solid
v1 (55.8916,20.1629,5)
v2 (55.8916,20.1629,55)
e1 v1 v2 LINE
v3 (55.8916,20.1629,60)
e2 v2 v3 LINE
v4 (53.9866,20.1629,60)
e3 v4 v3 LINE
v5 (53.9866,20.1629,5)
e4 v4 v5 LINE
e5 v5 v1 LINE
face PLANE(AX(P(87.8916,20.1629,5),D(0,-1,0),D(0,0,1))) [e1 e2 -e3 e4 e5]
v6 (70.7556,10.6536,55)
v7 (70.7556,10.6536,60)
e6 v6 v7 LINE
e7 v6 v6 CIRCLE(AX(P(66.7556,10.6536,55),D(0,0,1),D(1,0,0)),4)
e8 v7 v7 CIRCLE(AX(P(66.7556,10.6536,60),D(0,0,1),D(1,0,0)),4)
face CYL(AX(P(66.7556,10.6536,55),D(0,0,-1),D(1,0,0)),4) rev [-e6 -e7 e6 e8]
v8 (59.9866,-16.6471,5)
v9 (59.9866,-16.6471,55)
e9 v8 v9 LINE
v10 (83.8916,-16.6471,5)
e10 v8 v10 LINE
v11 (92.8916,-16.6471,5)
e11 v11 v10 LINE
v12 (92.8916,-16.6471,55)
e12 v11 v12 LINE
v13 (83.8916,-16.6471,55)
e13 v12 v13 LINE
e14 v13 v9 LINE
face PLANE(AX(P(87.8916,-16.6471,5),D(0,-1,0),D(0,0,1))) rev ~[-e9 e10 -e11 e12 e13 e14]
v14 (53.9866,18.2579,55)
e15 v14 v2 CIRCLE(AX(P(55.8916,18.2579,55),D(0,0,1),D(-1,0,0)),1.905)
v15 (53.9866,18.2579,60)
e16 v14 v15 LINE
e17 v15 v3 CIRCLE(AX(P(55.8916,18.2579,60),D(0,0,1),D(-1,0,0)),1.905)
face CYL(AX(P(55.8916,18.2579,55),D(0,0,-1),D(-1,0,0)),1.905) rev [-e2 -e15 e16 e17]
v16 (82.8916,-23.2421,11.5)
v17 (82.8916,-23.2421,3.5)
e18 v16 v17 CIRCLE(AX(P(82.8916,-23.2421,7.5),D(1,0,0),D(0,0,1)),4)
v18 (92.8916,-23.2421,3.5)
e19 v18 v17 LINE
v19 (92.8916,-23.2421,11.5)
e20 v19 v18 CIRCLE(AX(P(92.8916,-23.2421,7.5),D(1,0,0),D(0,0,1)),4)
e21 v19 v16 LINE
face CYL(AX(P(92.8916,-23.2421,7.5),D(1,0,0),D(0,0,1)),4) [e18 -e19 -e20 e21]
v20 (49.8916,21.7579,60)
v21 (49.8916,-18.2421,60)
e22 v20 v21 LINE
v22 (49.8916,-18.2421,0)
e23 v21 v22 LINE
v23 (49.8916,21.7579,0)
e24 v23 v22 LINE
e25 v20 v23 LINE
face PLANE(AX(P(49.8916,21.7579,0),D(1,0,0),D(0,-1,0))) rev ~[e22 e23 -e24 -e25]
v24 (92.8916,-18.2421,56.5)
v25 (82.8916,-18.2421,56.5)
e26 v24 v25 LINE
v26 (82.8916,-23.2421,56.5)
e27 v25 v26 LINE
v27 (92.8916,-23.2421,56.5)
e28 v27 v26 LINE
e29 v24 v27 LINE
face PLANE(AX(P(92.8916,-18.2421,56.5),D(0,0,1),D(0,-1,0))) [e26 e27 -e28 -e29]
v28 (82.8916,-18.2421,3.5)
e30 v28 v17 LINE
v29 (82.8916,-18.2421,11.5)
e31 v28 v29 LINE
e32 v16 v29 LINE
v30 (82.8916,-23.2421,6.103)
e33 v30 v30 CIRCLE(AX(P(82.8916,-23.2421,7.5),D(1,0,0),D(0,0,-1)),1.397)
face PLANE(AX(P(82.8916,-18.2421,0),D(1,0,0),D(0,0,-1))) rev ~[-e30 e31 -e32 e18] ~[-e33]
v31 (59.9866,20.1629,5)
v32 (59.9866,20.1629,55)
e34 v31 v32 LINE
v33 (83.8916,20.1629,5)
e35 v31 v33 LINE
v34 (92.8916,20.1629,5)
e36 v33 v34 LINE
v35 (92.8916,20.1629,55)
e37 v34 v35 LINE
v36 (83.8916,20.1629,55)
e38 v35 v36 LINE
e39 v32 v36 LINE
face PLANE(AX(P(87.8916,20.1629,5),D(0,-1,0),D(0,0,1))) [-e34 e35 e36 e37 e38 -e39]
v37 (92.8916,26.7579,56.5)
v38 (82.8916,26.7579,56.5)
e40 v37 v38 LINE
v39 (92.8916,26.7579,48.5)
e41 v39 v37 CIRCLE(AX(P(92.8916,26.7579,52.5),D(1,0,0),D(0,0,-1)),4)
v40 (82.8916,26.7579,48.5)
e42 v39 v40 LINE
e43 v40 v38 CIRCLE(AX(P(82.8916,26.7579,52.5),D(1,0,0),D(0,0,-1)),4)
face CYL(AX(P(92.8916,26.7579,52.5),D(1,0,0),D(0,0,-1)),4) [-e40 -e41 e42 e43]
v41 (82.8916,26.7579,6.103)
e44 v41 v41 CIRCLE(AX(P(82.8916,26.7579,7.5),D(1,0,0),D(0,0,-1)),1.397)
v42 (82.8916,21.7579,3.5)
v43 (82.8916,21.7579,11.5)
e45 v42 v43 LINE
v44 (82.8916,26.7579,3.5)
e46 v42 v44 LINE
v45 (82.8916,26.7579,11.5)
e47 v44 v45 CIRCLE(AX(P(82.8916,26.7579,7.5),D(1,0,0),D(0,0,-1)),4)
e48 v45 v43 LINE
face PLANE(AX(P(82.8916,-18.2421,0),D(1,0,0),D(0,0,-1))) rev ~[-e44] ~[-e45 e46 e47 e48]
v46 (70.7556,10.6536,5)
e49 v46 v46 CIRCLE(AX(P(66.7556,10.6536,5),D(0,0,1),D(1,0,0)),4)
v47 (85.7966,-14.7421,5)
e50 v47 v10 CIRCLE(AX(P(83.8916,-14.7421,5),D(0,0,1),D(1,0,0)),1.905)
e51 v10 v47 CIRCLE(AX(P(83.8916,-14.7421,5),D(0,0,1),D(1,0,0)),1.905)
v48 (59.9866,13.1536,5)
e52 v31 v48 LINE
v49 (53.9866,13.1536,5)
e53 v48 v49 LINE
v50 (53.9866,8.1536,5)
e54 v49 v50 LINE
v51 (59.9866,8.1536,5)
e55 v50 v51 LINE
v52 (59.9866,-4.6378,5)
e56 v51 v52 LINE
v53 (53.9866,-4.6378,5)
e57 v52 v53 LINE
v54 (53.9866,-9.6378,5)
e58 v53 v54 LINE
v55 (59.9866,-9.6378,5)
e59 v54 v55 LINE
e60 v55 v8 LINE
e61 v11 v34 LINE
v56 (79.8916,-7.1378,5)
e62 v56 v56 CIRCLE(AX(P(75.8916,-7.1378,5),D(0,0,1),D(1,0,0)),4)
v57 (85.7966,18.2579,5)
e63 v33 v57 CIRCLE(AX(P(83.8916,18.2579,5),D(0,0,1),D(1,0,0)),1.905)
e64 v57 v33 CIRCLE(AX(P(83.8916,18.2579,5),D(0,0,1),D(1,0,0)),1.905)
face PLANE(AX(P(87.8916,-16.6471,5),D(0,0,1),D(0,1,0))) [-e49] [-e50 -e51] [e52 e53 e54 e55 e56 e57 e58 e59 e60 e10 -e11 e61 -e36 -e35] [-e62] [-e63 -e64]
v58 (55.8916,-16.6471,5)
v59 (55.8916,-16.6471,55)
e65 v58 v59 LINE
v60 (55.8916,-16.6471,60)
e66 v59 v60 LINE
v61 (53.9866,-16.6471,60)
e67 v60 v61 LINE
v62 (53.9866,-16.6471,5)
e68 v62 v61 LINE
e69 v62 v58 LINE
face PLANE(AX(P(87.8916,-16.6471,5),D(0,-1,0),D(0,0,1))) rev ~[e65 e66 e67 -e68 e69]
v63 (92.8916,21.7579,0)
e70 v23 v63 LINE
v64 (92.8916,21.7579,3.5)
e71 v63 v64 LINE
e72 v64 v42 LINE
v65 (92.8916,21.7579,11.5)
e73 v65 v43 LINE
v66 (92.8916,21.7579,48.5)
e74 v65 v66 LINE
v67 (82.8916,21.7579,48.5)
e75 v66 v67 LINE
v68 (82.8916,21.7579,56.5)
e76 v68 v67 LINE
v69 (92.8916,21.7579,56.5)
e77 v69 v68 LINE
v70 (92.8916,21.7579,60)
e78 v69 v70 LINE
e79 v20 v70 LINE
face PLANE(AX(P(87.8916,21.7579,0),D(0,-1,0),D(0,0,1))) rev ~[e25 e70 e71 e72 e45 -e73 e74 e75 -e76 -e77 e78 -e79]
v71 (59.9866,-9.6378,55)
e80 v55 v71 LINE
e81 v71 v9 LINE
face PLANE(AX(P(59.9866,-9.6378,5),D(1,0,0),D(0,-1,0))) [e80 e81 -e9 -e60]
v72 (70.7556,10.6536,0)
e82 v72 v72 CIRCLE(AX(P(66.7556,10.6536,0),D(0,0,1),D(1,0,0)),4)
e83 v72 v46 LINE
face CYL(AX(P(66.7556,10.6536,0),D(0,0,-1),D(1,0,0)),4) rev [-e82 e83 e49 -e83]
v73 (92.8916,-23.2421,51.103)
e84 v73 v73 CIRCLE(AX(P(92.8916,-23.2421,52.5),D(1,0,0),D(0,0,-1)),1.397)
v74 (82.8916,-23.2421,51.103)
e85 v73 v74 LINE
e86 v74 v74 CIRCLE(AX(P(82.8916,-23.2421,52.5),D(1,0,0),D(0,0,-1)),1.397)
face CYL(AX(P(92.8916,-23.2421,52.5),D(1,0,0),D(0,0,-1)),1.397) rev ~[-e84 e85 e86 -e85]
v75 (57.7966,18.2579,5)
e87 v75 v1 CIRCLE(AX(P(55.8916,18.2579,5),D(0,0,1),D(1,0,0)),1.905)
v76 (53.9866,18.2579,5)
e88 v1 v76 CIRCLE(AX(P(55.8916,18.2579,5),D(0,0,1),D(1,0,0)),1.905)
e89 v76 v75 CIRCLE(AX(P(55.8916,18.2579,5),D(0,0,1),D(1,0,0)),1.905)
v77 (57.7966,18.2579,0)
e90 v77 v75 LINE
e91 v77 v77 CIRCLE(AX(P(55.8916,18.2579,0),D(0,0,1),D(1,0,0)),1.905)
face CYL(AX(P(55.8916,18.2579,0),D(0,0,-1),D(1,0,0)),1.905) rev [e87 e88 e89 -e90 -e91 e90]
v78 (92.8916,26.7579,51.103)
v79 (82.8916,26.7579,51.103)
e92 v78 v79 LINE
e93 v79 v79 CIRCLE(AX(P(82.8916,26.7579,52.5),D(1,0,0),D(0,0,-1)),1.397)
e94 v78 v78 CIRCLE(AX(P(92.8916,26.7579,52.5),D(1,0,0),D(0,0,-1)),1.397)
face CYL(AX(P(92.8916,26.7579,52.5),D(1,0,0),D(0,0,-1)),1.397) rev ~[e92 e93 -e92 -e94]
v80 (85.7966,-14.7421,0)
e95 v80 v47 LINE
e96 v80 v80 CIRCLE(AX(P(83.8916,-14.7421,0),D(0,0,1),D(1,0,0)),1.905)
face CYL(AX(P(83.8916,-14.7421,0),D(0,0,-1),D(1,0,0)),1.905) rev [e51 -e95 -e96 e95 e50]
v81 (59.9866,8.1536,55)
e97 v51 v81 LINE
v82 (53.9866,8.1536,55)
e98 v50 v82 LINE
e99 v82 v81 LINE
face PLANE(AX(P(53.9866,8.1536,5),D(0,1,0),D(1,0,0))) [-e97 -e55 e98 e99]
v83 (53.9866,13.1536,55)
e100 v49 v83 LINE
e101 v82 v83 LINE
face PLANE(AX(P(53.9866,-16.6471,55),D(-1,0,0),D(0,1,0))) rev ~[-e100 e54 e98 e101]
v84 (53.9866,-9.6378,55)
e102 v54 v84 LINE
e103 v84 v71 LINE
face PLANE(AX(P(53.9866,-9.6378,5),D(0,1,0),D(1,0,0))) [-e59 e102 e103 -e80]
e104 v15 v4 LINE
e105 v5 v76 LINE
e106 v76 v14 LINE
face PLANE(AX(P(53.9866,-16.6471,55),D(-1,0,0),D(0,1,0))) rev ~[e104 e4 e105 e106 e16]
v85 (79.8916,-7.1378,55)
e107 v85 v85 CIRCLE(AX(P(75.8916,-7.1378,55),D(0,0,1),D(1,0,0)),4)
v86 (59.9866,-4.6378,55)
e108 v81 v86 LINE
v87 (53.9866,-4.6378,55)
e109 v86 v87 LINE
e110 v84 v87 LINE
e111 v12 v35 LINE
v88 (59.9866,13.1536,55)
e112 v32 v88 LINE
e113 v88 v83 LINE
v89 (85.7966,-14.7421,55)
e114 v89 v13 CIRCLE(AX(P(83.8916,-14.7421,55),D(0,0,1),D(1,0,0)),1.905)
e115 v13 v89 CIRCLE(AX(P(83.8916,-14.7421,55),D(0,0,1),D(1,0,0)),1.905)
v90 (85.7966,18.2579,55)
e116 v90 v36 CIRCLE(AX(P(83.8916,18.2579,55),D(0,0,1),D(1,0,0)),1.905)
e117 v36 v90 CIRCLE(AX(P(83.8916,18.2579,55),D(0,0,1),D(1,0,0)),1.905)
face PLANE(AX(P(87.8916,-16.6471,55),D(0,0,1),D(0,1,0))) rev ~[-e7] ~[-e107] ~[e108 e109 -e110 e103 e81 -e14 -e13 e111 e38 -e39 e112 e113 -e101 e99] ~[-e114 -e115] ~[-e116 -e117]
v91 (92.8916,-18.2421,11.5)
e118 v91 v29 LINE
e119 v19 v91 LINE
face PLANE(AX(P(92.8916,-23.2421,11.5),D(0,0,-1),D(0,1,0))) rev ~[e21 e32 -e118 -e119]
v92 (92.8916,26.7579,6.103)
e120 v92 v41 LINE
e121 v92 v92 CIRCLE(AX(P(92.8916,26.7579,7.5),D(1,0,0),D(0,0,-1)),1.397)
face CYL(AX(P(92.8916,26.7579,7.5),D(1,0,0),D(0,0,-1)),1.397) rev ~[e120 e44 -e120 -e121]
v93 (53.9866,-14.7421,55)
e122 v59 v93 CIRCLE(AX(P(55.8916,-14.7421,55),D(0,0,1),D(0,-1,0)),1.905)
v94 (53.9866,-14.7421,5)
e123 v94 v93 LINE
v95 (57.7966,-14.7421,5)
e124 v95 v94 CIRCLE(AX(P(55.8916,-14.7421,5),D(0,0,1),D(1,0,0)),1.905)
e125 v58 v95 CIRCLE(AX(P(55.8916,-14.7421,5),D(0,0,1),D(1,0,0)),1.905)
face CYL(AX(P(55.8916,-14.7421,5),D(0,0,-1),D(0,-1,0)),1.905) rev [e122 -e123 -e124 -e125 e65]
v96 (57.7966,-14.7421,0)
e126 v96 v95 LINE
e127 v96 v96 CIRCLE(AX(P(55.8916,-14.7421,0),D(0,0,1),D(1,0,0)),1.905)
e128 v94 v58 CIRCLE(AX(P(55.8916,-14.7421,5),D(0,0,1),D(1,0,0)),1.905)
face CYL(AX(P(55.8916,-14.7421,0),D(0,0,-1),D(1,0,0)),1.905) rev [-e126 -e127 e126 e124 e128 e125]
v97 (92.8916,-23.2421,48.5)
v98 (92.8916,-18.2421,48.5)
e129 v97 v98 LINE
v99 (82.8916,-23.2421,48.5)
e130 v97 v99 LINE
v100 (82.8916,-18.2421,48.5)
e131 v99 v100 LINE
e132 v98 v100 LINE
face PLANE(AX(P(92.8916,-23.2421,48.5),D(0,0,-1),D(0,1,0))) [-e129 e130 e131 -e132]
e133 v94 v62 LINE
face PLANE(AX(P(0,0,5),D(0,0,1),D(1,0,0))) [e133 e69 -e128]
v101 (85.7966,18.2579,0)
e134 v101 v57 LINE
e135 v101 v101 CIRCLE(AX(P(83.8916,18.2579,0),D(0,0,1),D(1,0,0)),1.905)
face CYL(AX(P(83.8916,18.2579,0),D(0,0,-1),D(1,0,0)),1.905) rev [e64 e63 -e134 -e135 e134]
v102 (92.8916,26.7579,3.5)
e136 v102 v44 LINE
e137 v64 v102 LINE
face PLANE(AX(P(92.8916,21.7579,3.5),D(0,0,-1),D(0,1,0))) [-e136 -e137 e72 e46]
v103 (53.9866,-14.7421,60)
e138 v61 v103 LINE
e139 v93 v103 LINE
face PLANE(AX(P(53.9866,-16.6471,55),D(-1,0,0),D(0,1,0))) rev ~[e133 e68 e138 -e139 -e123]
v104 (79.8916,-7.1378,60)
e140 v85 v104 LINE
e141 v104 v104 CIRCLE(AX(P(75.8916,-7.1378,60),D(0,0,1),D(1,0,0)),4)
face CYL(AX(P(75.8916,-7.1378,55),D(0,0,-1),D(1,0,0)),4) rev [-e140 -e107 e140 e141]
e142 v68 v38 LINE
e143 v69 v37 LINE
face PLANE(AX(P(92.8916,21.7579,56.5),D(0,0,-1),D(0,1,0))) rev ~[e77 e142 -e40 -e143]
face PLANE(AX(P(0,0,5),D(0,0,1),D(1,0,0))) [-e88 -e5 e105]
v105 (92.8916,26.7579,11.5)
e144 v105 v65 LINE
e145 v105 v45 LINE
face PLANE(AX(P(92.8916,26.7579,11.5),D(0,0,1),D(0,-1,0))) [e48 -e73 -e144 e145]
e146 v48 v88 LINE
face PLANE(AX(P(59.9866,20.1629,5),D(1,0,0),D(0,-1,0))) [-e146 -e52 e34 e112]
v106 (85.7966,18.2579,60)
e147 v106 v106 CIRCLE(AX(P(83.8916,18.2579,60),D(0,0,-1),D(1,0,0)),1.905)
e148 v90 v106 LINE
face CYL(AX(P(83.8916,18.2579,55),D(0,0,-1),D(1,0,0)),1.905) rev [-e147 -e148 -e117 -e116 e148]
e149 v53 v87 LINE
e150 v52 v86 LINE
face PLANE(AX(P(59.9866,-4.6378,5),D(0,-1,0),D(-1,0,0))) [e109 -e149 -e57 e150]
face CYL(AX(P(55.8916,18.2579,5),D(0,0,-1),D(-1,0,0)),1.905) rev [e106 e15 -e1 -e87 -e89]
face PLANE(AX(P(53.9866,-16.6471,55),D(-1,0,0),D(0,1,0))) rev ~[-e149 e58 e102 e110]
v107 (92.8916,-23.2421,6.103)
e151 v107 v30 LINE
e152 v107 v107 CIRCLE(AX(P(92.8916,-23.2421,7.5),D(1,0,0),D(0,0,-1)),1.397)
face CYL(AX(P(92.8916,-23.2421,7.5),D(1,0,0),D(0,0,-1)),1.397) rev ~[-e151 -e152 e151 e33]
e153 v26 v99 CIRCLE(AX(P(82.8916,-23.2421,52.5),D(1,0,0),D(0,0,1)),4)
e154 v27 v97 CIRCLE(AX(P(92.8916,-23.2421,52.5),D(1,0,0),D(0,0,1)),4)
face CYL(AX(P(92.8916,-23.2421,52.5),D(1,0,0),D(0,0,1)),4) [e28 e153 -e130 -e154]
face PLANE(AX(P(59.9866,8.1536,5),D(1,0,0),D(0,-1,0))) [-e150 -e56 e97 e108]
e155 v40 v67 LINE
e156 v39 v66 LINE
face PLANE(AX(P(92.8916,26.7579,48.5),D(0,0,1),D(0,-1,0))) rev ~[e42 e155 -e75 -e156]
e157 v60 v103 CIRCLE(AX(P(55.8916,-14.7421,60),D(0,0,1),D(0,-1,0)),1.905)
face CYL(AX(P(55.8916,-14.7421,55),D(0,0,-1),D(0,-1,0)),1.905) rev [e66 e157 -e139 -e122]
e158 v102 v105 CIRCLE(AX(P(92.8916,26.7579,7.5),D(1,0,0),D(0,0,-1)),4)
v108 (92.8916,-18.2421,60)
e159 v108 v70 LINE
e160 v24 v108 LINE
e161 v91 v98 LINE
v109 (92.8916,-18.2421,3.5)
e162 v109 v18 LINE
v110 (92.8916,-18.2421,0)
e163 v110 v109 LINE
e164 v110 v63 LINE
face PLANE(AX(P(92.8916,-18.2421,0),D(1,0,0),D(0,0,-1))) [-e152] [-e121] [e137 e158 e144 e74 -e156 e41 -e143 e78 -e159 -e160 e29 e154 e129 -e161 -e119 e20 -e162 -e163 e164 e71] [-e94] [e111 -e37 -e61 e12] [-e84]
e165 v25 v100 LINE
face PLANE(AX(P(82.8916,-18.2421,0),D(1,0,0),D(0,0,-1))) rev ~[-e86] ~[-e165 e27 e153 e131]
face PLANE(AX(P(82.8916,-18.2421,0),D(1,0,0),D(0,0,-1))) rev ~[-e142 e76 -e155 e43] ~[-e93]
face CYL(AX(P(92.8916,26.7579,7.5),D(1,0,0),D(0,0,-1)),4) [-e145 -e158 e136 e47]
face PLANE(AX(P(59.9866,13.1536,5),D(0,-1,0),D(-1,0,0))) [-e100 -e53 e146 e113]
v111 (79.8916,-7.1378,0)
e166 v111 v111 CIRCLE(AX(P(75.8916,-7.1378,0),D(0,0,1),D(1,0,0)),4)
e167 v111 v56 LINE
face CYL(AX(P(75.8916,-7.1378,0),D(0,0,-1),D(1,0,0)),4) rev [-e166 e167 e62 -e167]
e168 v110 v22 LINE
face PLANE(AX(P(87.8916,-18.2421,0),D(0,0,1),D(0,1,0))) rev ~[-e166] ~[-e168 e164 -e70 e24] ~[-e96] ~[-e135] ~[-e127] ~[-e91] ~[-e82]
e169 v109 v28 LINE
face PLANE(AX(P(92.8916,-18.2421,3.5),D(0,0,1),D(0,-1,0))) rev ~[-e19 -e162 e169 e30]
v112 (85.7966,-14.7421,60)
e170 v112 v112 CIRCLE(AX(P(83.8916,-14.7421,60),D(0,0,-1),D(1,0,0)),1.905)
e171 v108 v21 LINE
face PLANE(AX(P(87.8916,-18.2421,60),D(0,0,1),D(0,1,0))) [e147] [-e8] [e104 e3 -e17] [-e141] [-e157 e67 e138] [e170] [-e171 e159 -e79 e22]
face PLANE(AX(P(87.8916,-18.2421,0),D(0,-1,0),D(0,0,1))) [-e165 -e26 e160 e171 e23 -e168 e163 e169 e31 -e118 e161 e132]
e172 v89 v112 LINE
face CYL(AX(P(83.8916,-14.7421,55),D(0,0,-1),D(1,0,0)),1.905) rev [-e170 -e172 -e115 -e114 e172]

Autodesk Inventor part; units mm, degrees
ref_plane "YZ Plane" through (0, 0, 0) normal (1, 0, 0) x (0, 1, 0)
ref_plane "XZ Plane" through (0, 0, 0) normal (0, 1, 0) x (-1, 0, 0)
ref_plane "XY Plane" through (0, 0, 0) normal (0, 0, 1) x (1, 0, 0)
ref_plane "Work Plane1" through (0, 0, 0) normal (0, 0, 1) x (1, 0, 0)
sketch "Sketch1" plane through (0, 0, 0) normal (0, 0, 1) x (1, 0, 0)
  circle A0 centre (55.8916, -14.7421) radius 1.397 construction
  circle A1 centre (83.8916, 18.2579) radius 1.397 construction
  circle A2 centre (83.8916, -14.7421) radius 1.397 construction
  circle A3 centre (55.8916, 18.2579) radius 1.397 construction
  circle A4 centre (-68.9014, -27.1927) radius 1.905 construction
  circle A5 centre (69.9706, -24.3098) radius 1.905 construction
  arc A6 (-6.1836, 105.2542) -> (-60.0665, 55.7083) centre (-0.9442, 45.4834) ccw construction
  arc A7 (-60.0665, 55.7083) -> (-61.034, 47.7681) centre (-60.6164, 51.7463) ccw construction
  line L0 (-61.034, 47.7681) -> (-68.4839, -23.2145) construction
  arc A8 (-68.4839, -23.2145) -> (-69.2051, -31.1811) centre (-68.9014, -27.1927) ccw construction
  arc A9 (-69.2051, -31.1811) -> (-1.8309, -104.453) centre (0.7162, -34.4994) ccw construction
  arc A10 (-1.8309, -104.453) -> (6.1641, -104.2871) centre (2.169, -104.4843) ccw construction
  arc A11 (6.1641, -104.2871) -> (70.4395, -28.2823) centre (0.7162, -34.4994) ccw construction
  arc A12 (70.4395, -28.2823) -> (69.3883, -20.3524) centre (69.9706, -24.3098) ccw construction
  line L1 (69.3883, -20.3524) -> (69.0778, -18.2421) construction
  line L2 (87.8916, -18.2421) -> (69.0778, -18.2421) construction
  line L3 (87.8916, 21.7579) -> (87.8916, -18.2421) construction
  line L4 (63.1925, 21.7579) -> (87.8916, 21.7579) construction
  line L5 (63.1925, 21.7579) -> (58.999, 50.2599) construction
  arc A13 (58.999, 50.2599) -> (57.7029, 58.1531) centre (58.4167, 54.2173) ccw construction
  arc A14 (57.7029, 58.1531) -> (1.8102, 105.4201) centre (-0.9442, 45.4834) ccw construction
  arc A15 (1.8102, 105.4201) -> (-6.1836, 105.2542) centre (-2.1895, 105.4705) ccw construction
  circle A16 centre (58.4167, 54.2173) radius 1.905 construction
  circle A17 centre (-2.1895, 105.4705) radius 1.905 construction
  circle A18 centre (-60.6164, 51.7463) radius 1.905 construction
  circle A19 centre (2.169, -104.4843) radius 1.905 construction
  circle A20 centre (-0.9442, 45.4834) radius 6.75 construction
  circle A21 centre (75.8916, -7.1378) radius 4 projected
  circle A22 centre (66.7556, 10.6536) radius 4 projected
  line L6 (87.8916, -18.2421) -> (87.8916, 21.7579)
  line L7 (87.8916, 21.7579) -> (49.8916, 21.7579)
  line L8 (49.8916, 21.7579) -> (49.8916, -18.2421)
  line L9 (49.8916, -18.2421) -> (87.8916, -18.2421)
  circle A23 centre (83.8916, -14.7421) radius 1.905
  circle A24 centre (55.8916, -14.7421) radius 1.905
  circle A25 centre (55.8916, 18.2579) radius 1.905
  circle A26 centre (83.8916, 18.2579) radius 1.905
  point P0 (0, 0)
  dimension "d0" = 3.81
  dimension "d1" = 38
extrude "Extrusion1" add sketch "Sketch1" along normal blind 5
sketch "Sketch2" plane through (0, 0, 5) normal (0, 0, 1) x (1, 0, 0)
  circle A0 centre (66.7556, 10.6536) radius 4 construction
  circle A1 centre (75.8916, -7.1378) radius 4 construction
  circle A2 centre (83.8916, 18.2579) radius 1.905 construction
  circle A3 centre (55.8916, 18.2579) radius 1.905 construction
  circle A4 centre (55.8916, -14.7421) radius 1.905 construction
  circle A5 centre (83.8916, -14.7421) radius 1.905 construction
  line L0 (87.8916, -18.2421) -> (87.8916, 21.7579) construction
  line L1 (87.8916, 21.7579) -> (49.8916, 21.7579) construction
  line L2 (49.8916, 21.7579) -> (49.8916, -18.2421) construction
  line L3 (49.8916, -18.2421) -> (87.8916, -18.2421) construction
  line L4 (87.8916, -18.2421) -> (49.8916, -18.2421)
  line L5 (49.8916, -18.2421) -> (49.8916, -16.6471)
  line L6 (49.8916, -16.6471) -> (87.8916, -16.6471)
  line L7 (87.8916, -16.6471) -> (87.8916, -18.2421)
  line L8 (87.8916, 21.7579) -> (49.8916, 21.7579) projected
  line L9 (87.8916, 21.7579) -> (49.8916, 21.7579)
  line L10 (49.8916, 21.7579) -> (49.8916, 20.1629)
  line L11 (49.8916, 20.1629) -> (87.8916, 20.1629)
  line L12 (87.8916, 20.1629) -> (87.8916, 21.7579)
  line L13 (49.8916, -16.6471) -> (53.9866, -16.6471)
  line L14 (53.9866, -16.6471) -> (53.9866, 20.1629)
  line L15 (53.9866, 20.1629) -> (49.8916, 20.1629)
  line L16 (49.8916, 20.1629) -> (49.8916, -16.6471)
  circle A6 centre (55.8916, -14.7421) radius 1.905 projected
  point P0 (0, 0)
extrude "Extrusion2" add sketch "Sketch2" along normal blind 50 contours L4 L5 L6 L7 | L16 L11 L14 L6 | L10 L8 L12 L11
sketch "Sketch3" plane through (0, 0, 55) normal (0, 0, 1) x (1, 0, 0)
  line L0 (55.8916, -16.6471) -> (83.8916, -16.6471) projected
  circle A0 centre (83.8916, -14.7421) radius 1.905 projected
  line L1 (83.8916, -16.6471) -> (87.8916, -16.6471) projected
  line L2 (87.8916, -16.6471) -> (87.8916, 20.1629) projected
  line L3 (87.8916, 20.1629) -> (83.8916, 20.1629) projected
  circle A1 centre (83.8916, 18.2579) radius 1.905 projected
  line L4 (83.8916, 20.1629) -> (55.8916, 20.1629) projected
  arc A2 (53.9866, 18.2579) -> (55.8916, 20.1629) centre (55.8916, 18.2579) ccw projected
  line L5 (53.9866, 18.2579) -> (53.9866, -14.7421) projected
  arc A3 (55.8916, -16.6471) -> (53.9866, -14.7421) centre (55.8916, -14.7421) ccw projected
  circle A4 centre (66.7556, 10.6536) radius 4 projected
  circle A5 centre (75.8916, -7.1378) radius 4 projected
  line L6 (53.9866, 20.1629) -> (87.8916, 20.1629) projected
  line L7 (87.8916, 20.1629) -> (87.8916, 21.7579) projected
  line L8 (87.8916, 21.7579) -> (49.8916, 21.7579) projected
  line L9 (49.8916, 21.7579) -> (49.8916, -18.2421) projected
  line L10 (49.8916, -18.2421) -> (87.8916, -18.2421) projected
  line L11 (87.8916, -18.2421) -> (87.8916, -16.6471) projected
  line L12 (87.8916, -16.6471) -> (53.9866, -16.6471) projected
  line L13 (53.9866, -16.6471) -> (53.9866, 20.1629) projected
  point P0 (0, 0)
extrude "Extrusion3" add sketch "Sketch3" along normal blind 5 contours A3 L5 A2 L4 L3 L2 L1 L0 | L0 L1 L11 L10 L9 L8 L7 L3 L4 L6 L13 L5 L12
sketch "Sketch4" plane through (87.8916, -18.2421, 0) normal (1, 0, 0) x (0, 0, -1)
  line L0 (-5, 38.405) -> (-55, 38.405) projected
  line L1 (-5, 1.595) -> (-5, 38.405) projected
  line L2 (-5, 1.595) -> (-55, 1.595) projected
  line L3 (-55, 1.595) -> (-55, 38.405) projected
  line L4 (0, 40) -> (-60, 40) projected
  line L5 (-60, 0) -> (-60, 40) projected
  line L6 (0, 0) -> (-60, 0) projected
  line L7 (0, 0) -> (0, 40) projected
  point P0 (0, 18.2421)
extrude "Extrusion4" add sketch "Sketch4" along normal blind 5
sketch "Sketch5" plane through (0, 0, 5) normal (0, 0, 1) x (1, 0, 0)
  line L0 (55.8916, -16.6471) -> (83.8916, -16.6471) projected
  circle A0 centre (83.8916, -14.7421) radius 1.905 projected
  line L1 (83.8916, -16.6471) -> (92.8916, -16.6471) projected
  line L2 (92.8916, 20.1629) -> (92.8916, -16.6471) projected
  line L3 (92.8916, 20.1629) -> (83.8916, 20.1629) projected
  circle A1 centre (83.8916, 18.2579) radius 1.905 projected
  line L4 (83.8916, 20.1629) -> (55.8916, 20.1629) projected
  arc A2 (53.9866, 18.2579) -> (55.8916, 20.1629) centre (55.8916, 18.2579) ccw projected
  line L5 (53.9866, 18.2579) -> (53.9866, -14.7421) projected
  arc A3 (55.8916, -16.6471) -> (53.9866, -14.7421) centre (55.8916, -14.7421) ccw projected
  circle A4 centre (66.7556, 10.6536) radius 4 projected
  circle A5 centre (75.8916, -7.1378) radius 4 projected
  line L6 (59.9866, 20.1629) -> (59.9866, 13.1536)
  line L7 (59.9866, 13.1536) -> (53.9866, 13.1536)
  line L8 (53.9866, 8.1536) -> (59.9866, 8.1536)
  line L9 (59.9866, 8.1536) -> (59.9866, -4.6378)
  line L10 (59.9866, -4.6378) -> (53.9866, -4.6378)
  line L11 (53.9866, -9.6378) -> (59.9866, -9.6378)
  line L12 (59.9866, -9.6378) -> (59.9866, -16.6471)
  line L13 (59.9866, -9.6378) -> (59.9866, -4.6378) construction
  line L14 (59.9866, 8.1536) -> (59.9866, 13.1536) construction
  point P0 (0, 0)
  point P1 (59.9866, -7.1378)
  point P2 (59.9866, 10.6536)
  dimension "d10" = 5
  dimension "d11" = 6
  dimension "d12" = 5
extrude "Extrusion5" add sketch "Sketch5" along normal up to next contours A3 L5 L11 L12 L0 | L5 L8 L9 L10 | L5 A2 L4 L6 L7
sketch "Sketch6" plane through (92.8916, -18.2421, 0) normal (1, 0, 0) x (0, 0, -1)
  line L0 (-5, 38.405) -> (-5, 1.595) construction
  line L1 (-5, 1.595) -> (-55, 1.595) construction
  line L2 (-55, 1.595) -> (-55, 38.405) construction
  line L3 (-55, 38.405) -> (-5, 38.405) construction
  line L4 (0, 40) -> (-60, 40) construction
  line L5 (-60, 40) -> (-60, 0) construction
  line L6 (-60, 0) -> (0, 0) construction
  line L7 (0, 0) -> (0, 40) construction
  line L8 (-60, 0) -> (0, 0) construction
  line L9 (-30, 0) -> (-30, 40) construction
  line L10 (-52.5, 45) -> (-7.5, 45) construction
  line L11 (-7.5, 45) -> (-7.5, -5) construction
  line L12 (-7.5, -5) -> (-52.5, -5) construction
  line L13 (-52.5, -5) -> (-52.5, 45) construction
  line L14 (-52.5, 45) -> (-7.5, -5) construction
  line L15 (-7.5, 45) -> (-52.5, -5) construction
  circle A0 centre (-7.5, -5) radius 1.397
  circle A1 centre (-52.5, -5) radius 1.397
  circle A2 centre (-7.5, 45) radius 1.397
  circle A3 centre (-52.5, 45) radius 1.397
  line L16 (-7.5, -5) -> (-7.5, 0) construction
  line L17 (-11.5, -5) -> (-11.5, 0)
  line L18 (-3.5, 0) -> (-3.5, -5)
  arc A4 (-11.5, -5) -> (-3.5, -5) centre (-7.5, -5) ccw
  arc A5 (-3.5, 0) -> (-11.5, 0) centre (-7.5, 0) ccw construction
  line L19 (-52.5, -5) -> (-52.5, 0) construction
  line L20 (-48.5, -5) -> (-48.5, 0)
  line L21 (-56.5, 0) -> (-56.5, -5)
  arc A6 (-56.5, -5) -> (-48.5, -5) centre (-52.5, -5) ccw
  arc A7 (-48.5, 0) -> (-56.5, 0) centre (-52.5, 0) ccw construction
  line L22 (-52.5, 45) -> (-52.5, 40) construction
  line L23 (-48.5, 45) -> (-48.5, 40)
  line L24 (-56.5, 40) -> (-56.5, 45)
  arc A8 (-48.5, 45) -> (-56.5, 45) centre (-52.5, 45) ccw
  arc A9 (-56.5, 40) -> (-48.5, 40) centre (-52.5, 40) ccw construction
  line L25 (-7.5, 45) -> (-7.5, 40) construction
  line L26 (-11.5, 45) -> (-11.5, 40)
  line L27 (-3.5, 40) -> (-3.5, 45)
  arc A10 (-3.5, 45) -> (-11.5, 45) centre (-7.5, 45) ccw
  arc A11 (-11.5, 40) -> (-3.5, 40) centre (-7.5, 40) ccw construction
  line L28 (-3.5, 0) -> (-11.5, 0)
  line L29 (-56.5, 0) -> (-48.5, 0)
  line L30 (-56.5, 40) -> (-48.5, 40)
  line L31 (0, 40) -> (-60, 40) projected
  line L32 (-11.5, 40) -> (-3.5, 40)
  point P0 (0, 18.2421)
  point P1 (-30, 20)
  point P2 (-7.5, -2.5)
  point P3 (-52.5, -2.5)
  point P4 (-52.5, 42.5)
  point P5 (-7.5, 42.5)
  dimension "d15" = 2.794
  dimension "d16" = 50
  dimension "d17" = 45
  dimension "d18" = 4
extrude "Extrusion6" add sketch "Sketch6" against normal blind 10
properties part number "shifter box 1"
